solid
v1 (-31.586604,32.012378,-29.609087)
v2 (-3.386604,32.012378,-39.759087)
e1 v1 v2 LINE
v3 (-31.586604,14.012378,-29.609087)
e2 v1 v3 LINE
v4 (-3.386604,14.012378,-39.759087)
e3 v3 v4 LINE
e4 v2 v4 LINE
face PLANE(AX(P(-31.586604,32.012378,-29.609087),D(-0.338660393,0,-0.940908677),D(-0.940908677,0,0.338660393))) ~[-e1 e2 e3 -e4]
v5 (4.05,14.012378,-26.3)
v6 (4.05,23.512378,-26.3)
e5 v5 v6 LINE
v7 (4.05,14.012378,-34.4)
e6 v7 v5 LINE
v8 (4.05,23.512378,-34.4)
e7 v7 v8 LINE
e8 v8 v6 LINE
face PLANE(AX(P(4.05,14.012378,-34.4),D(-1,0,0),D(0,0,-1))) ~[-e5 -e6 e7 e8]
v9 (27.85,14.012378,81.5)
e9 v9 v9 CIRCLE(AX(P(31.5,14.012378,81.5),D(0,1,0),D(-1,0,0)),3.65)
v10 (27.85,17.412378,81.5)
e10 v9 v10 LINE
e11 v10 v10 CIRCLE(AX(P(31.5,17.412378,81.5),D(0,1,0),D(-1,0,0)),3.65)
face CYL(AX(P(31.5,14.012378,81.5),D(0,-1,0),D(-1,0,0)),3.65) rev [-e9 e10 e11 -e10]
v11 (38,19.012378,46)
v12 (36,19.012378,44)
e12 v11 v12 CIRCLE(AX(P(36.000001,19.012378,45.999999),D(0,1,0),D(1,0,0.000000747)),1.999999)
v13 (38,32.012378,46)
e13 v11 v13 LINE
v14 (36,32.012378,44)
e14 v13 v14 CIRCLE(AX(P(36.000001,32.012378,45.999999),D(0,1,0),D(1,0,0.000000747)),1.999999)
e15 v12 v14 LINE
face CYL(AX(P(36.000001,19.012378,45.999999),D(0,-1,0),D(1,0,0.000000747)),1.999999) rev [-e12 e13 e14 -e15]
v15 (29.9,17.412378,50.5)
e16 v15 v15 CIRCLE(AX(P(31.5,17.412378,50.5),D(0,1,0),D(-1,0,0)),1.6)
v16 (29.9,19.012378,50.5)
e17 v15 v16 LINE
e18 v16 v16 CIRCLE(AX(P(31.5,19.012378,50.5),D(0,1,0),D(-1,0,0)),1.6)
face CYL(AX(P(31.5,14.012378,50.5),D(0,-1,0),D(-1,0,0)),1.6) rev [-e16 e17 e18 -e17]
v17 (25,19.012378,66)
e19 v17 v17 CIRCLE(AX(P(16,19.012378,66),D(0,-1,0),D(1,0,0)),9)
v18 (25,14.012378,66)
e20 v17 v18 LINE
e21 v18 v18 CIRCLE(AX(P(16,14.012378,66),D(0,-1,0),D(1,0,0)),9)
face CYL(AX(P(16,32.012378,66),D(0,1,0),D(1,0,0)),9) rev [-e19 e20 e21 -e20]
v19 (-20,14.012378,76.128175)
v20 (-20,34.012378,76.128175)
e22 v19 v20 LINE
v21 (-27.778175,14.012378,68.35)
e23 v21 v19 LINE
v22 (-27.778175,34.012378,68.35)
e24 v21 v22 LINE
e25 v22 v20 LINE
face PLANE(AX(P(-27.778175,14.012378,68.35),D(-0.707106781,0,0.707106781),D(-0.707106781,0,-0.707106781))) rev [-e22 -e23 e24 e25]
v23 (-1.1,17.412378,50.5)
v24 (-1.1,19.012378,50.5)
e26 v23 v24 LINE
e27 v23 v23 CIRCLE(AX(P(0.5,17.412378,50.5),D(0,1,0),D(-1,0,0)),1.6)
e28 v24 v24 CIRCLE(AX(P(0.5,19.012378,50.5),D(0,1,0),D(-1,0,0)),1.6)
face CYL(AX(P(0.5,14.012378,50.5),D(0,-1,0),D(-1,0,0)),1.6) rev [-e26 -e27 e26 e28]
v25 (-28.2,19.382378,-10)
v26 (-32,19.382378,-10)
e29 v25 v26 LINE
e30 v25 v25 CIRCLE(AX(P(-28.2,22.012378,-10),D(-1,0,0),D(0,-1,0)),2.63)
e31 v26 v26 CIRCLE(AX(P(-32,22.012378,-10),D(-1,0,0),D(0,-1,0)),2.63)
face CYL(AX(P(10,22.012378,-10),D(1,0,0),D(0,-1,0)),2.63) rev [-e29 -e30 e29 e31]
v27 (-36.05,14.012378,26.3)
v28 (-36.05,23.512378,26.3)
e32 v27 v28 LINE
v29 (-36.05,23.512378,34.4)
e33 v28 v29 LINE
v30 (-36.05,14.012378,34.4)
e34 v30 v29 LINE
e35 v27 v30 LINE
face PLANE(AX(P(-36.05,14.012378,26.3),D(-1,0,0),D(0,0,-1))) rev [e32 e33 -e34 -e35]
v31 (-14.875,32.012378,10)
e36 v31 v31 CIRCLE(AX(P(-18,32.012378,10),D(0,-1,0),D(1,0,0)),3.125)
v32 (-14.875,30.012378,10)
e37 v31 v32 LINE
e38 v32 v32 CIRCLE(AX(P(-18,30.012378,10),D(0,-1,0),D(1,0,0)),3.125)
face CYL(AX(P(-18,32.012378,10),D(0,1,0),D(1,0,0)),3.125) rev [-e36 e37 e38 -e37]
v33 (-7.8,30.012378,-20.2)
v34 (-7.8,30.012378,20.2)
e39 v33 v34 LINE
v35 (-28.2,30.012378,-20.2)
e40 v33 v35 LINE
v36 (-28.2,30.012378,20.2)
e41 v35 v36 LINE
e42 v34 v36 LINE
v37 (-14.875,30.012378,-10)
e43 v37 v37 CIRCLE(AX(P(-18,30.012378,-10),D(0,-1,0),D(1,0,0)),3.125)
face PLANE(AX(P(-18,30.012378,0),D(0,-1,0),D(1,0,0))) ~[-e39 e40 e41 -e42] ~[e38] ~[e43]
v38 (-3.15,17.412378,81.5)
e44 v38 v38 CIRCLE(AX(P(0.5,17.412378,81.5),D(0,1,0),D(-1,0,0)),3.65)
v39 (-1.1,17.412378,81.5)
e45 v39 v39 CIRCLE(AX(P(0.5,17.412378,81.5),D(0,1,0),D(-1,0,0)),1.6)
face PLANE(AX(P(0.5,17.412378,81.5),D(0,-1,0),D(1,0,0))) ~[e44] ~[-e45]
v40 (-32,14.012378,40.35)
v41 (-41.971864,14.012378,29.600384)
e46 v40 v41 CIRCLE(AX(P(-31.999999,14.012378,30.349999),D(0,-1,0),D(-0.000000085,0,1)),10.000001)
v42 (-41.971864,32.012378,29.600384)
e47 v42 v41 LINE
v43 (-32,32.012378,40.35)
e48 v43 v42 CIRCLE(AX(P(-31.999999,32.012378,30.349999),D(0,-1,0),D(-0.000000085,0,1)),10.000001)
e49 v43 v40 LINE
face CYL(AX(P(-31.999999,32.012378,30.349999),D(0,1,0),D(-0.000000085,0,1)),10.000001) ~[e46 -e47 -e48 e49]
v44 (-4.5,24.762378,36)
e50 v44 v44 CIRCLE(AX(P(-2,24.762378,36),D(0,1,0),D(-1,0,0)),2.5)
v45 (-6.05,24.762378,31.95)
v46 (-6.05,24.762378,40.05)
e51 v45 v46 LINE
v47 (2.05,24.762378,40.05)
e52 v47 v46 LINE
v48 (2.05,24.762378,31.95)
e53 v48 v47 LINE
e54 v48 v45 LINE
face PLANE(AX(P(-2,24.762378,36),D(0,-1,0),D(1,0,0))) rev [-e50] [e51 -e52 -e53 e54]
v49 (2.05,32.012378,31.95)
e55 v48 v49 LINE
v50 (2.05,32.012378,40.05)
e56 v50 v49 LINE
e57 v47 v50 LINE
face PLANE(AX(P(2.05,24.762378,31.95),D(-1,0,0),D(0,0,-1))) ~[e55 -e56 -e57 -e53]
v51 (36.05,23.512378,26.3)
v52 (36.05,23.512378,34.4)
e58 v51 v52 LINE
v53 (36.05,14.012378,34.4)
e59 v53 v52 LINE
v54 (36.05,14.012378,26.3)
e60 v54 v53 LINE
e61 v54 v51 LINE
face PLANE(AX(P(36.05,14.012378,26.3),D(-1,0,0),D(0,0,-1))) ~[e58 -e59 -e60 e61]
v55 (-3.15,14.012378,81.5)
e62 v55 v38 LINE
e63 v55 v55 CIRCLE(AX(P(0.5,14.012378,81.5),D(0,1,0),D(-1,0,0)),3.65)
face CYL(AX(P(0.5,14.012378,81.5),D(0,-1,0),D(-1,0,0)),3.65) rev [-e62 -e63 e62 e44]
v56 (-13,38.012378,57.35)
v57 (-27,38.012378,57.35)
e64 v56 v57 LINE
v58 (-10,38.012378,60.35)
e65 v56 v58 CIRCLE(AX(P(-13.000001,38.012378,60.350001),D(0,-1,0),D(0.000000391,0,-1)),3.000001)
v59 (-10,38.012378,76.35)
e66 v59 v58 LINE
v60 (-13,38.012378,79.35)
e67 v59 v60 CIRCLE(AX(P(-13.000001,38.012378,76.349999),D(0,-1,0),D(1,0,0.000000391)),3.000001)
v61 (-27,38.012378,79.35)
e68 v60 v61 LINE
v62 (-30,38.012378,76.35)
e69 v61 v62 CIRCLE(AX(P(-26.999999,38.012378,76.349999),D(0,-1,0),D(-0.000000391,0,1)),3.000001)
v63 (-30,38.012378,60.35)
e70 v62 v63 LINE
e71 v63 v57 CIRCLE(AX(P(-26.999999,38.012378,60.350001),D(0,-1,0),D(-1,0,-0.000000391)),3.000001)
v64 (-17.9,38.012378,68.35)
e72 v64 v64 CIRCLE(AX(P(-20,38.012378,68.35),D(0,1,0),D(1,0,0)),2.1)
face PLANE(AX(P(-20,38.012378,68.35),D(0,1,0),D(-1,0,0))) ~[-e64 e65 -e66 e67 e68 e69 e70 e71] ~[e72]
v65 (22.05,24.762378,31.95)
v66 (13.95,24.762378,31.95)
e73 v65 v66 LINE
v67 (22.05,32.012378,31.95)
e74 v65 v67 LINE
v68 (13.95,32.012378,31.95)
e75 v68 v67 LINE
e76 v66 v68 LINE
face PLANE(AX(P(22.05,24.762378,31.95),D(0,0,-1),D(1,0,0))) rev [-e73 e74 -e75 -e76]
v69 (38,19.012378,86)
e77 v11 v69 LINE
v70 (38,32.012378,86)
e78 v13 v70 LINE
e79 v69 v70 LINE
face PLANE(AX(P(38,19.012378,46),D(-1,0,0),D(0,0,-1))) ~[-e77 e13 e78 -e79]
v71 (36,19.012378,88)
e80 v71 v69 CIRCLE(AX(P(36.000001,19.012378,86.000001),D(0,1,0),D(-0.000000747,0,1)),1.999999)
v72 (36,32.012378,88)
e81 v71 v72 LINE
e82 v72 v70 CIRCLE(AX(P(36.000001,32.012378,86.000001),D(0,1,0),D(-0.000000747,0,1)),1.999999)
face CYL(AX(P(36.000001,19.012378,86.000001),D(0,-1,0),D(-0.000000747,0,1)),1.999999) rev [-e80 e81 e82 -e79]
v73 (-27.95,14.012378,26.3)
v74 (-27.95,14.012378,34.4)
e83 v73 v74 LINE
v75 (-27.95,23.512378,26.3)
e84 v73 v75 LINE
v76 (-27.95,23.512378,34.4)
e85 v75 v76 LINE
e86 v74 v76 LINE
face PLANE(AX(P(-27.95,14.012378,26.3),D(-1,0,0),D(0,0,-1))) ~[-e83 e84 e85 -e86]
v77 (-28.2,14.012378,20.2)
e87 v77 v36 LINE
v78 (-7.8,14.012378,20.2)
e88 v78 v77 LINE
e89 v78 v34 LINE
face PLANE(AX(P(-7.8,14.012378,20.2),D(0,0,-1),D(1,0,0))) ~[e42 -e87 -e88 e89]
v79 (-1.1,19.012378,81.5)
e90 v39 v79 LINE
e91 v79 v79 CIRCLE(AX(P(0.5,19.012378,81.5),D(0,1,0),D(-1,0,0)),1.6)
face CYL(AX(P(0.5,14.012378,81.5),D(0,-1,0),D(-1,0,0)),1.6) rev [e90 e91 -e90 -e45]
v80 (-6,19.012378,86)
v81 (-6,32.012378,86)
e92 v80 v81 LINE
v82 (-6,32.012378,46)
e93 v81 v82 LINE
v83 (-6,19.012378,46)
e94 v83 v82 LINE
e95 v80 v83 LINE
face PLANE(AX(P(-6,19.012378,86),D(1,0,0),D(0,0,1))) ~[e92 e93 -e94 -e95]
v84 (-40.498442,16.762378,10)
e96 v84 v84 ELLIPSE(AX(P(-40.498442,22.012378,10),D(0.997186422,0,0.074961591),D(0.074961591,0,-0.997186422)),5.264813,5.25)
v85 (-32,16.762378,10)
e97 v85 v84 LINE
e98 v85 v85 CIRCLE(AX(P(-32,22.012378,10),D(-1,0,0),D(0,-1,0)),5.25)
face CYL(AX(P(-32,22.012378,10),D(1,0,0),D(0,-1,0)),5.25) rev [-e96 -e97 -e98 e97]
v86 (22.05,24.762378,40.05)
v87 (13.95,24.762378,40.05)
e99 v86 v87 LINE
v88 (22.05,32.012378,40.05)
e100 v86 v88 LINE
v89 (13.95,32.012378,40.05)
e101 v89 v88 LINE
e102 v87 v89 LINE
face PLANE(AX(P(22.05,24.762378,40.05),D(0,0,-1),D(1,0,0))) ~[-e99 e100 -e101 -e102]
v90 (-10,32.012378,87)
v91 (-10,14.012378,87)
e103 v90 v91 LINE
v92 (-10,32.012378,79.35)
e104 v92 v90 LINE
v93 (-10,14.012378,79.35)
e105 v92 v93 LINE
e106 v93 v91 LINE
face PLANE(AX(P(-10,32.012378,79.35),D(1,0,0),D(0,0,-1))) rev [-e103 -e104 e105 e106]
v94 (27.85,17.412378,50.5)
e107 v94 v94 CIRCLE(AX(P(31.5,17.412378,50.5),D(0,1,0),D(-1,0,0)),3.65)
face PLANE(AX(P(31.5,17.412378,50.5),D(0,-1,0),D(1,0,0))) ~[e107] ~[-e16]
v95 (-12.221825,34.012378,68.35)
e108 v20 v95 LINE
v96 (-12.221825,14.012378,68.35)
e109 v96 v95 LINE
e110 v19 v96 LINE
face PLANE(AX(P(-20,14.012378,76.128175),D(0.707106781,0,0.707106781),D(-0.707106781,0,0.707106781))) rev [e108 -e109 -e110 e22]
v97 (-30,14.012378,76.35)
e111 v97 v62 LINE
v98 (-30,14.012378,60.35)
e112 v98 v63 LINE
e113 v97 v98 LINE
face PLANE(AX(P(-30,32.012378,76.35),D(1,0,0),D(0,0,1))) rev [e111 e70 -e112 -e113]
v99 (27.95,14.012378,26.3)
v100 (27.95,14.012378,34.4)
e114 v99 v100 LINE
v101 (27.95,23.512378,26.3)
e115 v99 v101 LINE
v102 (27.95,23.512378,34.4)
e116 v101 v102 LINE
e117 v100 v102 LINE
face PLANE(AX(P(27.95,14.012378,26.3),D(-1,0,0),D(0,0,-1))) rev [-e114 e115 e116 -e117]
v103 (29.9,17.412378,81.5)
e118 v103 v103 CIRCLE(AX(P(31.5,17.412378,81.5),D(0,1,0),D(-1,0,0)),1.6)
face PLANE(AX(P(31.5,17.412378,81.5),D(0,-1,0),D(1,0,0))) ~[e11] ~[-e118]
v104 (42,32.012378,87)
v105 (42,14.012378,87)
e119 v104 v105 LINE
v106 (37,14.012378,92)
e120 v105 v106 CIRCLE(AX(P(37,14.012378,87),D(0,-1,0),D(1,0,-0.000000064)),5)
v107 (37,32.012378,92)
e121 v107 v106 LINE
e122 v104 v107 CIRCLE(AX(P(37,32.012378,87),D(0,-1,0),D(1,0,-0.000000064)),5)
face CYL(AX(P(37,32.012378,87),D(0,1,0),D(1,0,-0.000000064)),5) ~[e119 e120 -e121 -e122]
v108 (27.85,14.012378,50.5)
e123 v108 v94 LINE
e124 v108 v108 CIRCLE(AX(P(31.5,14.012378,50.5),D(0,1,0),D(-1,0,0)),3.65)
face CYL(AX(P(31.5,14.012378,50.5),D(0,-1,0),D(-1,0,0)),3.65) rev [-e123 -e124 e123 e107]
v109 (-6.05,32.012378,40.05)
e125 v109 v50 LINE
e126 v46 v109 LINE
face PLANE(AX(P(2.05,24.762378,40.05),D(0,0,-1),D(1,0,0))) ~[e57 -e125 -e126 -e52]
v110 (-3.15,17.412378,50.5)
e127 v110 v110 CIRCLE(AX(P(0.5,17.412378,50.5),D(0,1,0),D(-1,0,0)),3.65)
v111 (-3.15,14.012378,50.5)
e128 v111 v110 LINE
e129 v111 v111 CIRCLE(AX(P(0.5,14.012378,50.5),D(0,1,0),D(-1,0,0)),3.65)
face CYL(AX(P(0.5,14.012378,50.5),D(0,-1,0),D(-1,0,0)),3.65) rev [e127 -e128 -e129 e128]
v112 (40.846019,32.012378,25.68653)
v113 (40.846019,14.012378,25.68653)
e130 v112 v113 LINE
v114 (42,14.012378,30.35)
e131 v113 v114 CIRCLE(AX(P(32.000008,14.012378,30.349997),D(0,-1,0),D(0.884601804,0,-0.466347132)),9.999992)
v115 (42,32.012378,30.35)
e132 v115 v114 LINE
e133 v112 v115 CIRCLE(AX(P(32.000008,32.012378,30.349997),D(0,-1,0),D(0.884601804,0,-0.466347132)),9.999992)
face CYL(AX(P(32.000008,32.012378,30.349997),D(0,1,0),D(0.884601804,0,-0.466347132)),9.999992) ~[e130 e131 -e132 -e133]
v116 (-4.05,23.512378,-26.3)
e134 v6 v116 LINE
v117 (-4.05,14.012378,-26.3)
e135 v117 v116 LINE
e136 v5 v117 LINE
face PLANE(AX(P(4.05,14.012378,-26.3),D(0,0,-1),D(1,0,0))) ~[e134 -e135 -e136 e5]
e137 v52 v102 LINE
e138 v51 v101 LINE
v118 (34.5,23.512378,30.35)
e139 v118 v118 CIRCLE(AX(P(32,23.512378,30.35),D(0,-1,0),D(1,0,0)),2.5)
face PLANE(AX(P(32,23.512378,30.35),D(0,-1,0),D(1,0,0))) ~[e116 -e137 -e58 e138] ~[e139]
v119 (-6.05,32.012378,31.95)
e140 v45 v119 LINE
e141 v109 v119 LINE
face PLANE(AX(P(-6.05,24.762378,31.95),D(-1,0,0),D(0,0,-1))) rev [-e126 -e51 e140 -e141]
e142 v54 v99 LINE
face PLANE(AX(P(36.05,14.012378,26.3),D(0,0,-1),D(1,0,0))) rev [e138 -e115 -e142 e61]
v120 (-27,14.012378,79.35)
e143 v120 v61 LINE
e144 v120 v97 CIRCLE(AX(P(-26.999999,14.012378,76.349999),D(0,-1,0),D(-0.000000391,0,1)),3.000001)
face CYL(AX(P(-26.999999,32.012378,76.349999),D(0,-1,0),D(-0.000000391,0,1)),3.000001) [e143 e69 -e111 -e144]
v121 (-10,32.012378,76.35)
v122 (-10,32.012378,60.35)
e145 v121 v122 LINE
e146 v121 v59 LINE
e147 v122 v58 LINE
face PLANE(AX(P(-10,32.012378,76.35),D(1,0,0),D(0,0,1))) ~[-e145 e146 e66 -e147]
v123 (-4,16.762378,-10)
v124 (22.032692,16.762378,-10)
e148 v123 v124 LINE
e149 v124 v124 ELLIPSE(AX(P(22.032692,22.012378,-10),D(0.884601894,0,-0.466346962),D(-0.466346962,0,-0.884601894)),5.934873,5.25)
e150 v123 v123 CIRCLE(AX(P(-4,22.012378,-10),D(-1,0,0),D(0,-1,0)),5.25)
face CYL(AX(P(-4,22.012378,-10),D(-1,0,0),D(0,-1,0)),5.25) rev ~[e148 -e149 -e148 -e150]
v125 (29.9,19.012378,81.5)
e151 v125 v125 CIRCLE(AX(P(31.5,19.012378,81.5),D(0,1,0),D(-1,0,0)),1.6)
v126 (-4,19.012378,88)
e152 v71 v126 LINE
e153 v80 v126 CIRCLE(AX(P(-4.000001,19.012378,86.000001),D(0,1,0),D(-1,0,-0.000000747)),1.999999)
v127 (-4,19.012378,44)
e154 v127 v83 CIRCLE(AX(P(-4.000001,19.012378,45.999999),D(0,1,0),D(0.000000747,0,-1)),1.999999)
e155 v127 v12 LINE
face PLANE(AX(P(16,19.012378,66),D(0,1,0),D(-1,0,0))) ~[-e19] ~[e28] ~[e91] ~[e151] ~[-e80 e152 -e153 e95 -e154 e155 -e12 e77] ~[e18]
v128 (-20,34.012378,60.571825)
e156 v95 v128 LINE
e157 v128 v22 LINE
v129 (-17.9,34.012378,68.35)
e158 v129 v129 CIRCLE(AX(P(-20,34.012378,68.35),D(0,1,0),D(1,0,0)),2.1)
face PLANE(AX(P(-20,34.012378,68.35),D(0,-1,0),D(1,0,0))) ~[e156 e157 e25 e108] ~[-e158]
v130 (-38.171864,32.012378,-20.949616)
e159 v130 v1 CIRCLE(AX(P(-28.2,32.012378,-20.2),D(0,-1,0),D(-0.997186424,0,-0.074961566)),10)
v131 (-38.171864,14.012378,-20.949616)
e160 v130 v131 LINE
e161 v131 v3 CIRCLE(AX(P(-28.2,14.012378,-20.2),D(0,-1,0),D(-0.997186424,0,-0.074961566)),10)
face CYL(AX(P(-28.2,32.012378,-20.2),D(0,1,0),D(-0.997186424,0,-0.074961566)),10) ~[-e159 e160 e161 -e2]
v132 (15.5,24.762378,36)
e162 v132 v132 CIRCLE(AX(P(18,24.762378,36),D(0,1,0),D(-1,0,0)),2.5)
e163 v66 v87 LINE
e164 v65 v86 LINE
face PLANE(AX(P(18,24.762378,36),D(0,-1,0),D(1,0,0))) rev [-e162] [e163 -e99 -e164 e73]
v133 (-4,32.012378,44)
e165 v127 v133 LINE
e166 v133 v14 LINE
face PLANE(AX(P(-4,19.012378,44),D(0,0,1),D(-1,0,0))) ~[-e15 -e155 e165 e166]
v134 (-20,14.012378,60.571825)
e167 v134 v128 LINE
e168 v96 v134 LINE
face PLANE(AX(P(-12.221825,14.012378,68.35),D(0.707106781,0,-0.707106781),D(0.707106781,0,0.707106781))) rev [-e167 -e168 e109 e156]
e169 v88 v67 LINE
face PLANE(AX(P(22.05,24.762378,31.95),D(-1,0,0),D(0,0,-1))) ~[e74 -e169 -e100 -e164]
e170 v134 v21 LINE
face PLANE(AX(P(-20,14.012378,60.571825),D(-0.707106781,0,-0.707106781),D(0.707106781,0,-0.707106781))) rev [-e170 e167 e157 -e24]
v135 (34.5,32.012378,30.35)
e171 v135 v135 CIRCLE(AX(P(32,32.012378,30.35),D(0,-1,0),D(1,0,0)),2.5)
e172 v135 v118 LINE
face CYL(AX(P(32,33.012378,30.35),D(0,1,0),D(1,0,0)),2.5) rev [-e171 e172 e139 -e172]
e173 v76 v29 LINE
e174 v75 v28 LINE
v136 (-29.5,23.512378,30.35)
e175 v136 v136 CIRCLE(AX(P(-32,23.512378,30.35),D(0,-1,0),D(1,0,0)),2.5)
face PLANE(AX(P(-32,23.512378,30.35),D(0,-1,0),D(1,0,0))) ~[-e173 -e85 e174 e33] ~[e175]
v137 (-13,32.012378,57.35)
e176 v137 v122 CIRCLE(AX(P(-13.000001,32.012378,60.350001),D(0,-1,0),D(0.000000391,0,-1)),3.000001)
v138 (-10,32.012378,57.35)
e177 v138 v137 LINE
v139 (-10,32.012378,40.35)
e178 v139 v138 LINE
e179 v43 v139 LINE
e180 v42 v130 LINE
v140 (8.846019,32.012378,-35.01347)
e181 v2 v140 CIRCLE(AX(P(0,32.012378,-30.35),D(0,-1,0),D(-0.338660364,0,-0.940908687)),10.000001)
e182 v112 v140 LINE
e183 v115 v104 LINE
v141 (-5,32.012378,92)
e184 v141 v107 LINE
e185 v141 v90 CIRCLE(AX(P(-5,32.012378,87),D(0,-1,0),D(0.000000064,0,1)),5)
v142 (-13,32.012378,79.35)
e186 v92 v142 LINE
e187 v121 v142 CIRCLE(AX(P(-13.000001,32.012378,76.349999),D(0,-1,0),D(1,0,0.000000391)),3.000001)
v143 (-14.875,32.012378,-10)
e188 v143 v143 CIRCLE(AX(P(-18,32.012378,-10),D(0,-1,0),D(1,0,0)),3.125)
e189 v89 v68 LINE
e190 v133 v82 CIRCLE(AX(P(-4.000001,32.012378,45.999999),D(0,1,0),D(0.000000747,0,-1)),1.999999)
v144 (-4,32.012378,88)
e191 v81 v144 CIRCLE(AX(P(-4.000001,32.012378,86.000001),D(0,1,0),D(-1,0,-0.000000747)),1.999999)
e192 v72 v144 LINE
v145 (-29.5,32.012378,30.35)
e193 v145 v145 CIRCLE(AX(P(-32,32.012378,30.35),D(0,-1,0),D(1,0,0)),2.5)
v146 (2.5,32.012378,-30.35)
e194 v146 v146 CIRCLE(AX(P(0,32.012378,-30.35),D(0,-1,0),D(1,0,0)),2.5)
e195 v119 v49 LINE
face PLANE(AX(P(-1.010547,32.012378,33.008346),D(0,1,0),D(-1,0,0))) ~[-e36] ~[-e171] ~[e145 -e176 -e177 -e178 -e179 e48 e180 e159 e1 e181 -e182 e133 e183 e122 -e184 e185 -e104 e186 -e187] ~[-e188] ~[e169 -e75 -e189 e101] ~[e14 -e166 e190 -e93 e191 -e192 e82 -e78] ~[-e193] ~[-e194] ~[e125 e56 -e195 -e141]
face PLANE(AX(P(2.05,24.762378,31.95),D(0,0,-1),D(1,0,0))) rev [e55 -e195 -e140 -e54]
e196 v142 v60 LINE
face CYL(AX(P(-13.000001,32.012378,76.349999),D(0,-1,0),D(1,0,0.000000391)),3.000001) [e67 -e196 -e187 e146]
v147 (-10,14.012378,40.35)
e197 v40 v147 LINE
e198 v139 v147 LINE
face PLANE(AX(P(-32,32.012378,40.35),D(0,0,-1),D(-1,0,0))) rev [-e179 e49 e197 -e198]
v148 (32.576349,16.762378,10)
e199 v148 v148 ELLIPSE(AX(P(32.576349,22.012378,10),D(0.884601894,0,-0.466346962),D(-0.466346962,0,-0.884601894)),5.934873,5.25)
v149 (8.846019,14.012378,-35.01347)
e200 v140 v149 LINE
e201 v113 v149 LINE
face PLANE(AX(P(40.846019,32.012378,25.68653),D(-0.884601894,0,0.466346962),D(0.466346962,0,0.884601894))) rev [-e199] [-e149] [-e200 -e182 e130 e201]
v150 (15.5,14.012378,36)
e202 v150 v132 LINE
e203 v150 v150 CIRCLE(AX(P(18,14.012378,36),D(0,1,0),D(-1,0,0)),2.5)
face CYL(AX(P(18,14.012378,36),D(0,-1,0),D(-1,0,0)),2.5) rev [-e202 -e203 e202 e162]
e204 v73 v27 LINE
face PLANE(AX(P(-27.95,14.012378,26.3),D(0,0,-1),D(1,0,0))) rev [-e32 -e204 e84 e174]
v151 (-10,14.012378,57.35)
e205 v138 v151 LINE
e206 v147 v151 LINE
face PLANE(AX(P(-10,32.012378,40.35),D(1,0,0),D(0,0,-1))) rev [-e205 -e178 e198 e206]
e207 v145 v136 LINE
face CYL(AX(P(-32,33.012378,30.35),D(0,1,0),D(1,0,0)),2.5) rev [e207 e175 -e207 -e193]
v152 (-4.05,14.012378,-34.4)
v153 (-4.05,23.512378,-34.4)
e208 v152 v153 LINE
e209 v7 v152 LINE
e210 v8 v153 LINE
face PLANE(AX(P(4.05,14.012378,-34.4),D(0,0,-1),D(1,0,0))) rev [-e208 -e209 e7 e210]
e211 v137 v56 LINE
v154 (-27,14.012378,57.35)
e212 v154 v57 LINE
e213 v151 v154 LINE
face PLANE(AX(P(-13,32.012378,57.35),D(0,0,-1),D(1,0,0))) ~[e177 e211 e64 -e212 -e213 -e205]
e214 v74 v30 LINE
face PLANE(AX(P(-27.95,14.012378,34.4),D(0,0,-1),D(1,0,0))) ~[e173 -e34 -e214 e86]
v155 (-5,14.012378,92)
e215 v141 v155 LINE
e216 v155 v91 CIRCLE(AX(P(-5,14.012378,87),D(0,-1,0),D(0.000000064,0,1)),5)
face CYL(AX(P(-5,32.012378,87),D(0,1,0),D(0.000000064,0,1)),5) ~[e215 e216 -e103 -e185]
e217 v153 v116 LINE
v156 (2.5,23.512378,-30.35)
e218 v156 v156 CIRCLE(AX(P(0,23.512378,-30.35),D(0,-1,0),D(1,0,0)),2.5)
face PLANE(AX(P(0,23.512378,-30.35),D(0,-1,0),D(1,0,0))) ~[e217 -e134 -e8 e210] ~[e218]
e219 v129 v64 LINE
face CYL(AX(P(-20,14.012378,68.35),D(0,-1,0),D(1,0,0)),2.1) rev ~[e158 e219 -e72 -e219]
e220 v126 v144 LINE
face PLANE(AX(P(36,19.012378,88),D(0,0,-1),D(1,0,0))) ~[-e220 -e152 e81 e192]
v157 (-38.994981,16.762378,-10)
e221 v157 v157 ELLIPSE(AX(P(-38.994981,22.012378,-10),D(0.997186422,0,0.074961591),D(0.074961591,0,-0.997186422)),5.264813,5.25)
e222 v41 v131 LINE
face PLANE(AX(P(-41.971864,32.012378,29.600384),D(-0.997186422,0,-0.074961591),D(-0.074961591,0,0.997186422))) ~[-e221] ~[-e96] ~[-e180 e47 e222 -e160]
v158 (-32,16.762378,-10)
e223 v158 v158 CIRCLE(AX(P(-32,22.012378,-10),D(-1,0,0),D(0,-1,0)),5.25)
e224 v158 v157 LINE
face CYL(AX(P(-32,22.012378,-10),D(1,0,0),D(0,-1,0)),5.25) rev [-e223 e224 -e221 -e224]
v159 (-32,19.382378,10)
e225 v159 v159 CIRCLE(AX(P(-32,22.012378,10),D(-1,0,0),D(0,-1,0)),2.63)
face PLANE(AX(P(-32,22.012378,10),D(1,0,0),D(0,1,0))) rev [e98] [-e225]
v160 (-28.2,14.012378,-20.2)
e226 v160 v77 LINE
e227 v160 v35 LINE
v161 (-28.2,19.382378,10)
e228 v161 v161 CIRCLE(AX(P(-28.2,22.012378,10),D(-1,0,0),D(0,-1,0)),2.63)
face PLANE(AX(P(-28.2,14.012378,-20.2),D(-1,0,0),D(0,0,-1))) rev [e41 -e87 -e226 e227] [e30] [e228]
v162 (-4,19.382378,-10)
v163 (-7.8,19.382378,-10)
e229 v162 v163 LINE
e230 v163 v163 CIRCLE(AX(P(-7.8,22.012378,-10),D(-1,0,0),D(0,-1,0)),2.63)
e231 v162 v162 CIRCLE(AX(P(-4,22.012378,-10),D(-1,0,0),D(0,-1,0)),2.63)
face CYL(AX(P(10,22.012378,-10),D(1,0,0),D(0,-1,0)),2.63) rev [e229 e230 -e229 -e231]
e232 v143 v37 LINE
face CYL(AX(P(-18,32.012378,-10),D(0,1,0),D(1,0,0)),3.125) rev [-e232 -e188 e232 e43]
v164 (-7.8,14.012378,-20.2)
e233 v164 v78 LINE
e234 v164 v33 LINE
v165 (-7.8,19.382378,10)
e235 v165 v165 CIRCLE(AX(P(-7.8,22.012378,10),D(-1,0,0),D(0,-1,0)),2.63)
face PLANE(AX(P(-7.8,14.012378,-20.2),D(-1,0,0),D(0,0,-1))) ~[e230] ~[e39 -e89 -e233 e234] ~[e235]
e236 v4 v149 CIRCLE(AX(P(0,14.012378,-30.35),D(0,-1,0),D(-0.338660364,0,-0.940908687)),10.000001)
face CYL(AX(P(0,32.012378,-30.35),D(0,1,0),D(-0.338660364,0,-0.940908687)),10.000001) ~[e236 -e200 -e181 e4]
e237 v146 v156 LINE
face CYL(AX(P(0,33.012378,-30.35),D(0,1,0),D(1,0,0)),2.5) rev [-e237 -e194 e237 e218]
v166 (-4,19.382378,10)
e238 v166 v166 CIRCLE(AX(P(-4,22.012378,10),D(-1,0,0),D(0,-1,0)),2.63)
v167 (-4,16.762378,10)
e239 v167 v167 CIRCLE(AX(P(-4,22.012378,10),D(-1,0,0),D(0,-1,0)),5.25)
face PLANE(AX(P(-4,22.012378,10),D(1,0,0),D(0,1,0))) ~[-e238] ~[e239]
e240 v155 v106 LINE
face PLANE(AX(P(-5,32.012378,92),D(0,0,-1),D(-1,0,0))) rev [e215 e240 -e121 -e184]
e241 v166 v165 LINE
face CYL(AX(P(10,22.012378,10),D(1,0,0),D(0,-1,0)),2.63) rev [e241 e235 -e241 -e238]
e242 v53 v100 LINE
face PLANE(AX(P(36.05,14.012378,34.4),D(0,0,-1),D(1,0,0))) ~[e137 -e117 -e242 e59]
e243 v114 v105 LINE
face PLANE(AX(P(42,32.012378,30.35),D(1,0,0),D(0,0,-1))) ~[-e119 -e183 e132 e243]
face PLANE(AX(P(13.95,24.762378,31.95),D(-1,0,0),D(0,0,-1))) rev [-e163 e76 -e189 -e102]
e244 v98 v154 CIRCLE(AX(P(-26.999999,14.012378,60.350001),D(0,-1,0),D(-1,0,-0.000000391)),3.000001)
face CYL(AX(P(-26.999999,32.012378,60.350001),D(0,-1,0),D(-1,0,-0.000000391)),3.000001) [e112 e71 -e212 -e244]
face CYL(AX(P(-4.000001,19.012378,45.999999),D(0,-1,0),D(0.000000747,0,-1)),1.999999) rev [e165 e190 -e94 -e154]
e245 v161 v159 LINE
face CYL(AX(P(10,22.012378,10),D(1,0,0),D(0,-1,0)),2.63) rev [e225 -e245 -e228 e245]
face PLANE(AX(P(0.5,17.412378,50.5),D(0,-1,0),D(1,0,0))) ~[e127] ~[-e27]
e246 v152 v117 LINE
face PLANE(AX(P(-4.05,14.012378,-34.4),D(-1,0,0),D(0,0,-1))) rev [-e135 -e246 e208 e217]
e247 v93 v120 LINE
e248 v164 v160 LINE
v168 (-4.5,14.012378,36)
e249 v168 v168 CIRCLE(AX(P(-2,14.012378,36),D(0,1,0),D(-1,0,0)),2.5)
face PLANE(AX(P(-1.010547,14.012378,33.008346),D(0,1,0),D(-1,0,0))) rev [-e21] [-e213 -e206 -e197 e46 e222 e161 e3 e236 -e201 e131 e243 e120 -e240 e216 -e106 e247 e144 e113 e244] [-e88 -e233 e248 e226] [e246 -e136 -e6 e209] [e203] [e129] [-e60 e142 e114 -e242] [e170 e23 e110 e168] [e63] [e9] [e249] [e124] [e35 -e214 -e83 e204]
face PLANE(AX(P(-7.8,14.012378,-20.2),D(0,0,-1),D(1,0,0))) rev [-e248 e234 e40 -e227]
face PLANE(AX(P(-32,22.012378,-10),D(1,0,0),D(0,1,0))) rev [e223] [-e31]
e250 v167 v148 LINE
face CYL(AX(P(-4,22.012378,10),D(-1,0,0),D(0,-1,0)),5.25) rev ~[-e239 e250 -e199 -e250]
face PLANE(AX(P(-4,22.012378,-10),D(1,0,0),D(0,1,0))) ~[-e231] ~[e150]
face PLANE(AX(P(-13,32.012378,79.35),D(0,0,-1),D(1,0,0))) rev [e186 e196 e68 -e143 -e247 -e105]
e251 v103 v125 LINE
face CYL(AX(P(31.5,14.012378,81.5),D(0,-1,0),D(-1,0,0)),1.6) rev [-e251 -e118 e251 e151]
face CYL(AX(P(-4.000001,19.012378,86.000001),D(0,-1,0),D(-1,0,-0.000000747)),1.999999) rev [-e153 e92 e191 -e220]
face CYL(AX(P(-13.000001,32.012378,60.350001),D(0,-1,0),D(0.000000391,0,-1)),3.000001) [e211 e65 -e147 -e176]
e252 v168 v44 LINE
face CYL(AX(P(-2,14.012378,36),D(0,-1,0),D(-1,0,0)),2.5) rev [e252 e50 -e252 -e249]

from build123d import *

# Parameters (mm, degrees)
SKETCH003_R          = 9
SKETCH003_R_2        = 3.125
PAD_DEPTH            = 18
SKETCH005_R          = 2.5
POCKET_DEPTH         = 19.001
POCKET_DEPTH_BACK    = 0.001
POCKET007_DEPTH      = 13
SKETCH025_R          = 1.6
POCKET008_DEPTH      = 18.001
POCKET008_DEPTH_BACK = 0.001
SKETCH026_R          = 3.65
POCKET009_DEPTH      = 3.4
SKETCH075_R          = 2.5
POCKET038_DEPTH      = 18.001
SKETCH033_W          = 8.1
SKETCH033_H          = 8.1
POCKET011_DEPTH      = 7.251
SKETCH030_W          = 8.1
SKETCH030_H          = 8.1
POCKET010_DEPTH      = 9.5
SKETCH034_W          = 20.4
SKETCH034_H          = 40.4
POCKET012_DEPTH      = 16
SKETCH035_R          = 2.63
POCKET013_DEPTH      = 52.001
POCKET013_DEPTH_BACK = 32.001
SKETCH036_R          = 5.25
POCKET014_DEPTH      = 46.001
SKETCH037_R          = 5.25
POCKET015_DEPTH      = 10.001
PAD032_DEPTH         = 6
POCKET053_DEPTH      = 20
SKETCH106_R          = 2.1
POCKET054_DEPTH      = 0.001
POCKET054_DEPTH_BACK = 24.001


with BuildPart() as xbearingblock:
    # Sketch003 → Pad (new body)
    with BuildSketch(Plane.XZ.offset(-1)):
        with BuildLine():
            ThreePointArc((-32, 40.35), (-39.331308, 37.150876), (-41.971864, 29.600384))
            Line((-41.971864, 29.600384), (-38.171864, -20.949616))
            ThreePointArc((-38.171864, -20.949616), (-36.159823, -26.253199), (-31.586604, -29.609087))
            Line((-31.586604, -29.609087), (-3.386604, -39.759087))
            ThreePointArc((-3.386604, -39.759087), (3.616839, -39.673008), (8.846019, -35.01347))
            Line((40.846019, 25.68653), (8.846019, -35.01347))
            ThreePointArc((40.846019, 25.68653), (41.707219, 27.947937), (42, 30.35))
            Line((42, 30.35), (42, 40.35))
            Line((42, 87), (42, 40.35))
            ThreePointArc((42, 87), (40.535534, 90.535534), (37, 92))
            Line((-5, 92), (37, 92))
            ThreePointArc((-5, 92), (-8.535534, 90.535534), (-10, 87))
            Line((-10, 79.35), (-10, 87))
            Line((-10, 79.35), (-27, 79.35))
            ThreePointArc((-27, 79.35), (-29.12132, 78.47132), (-30, 76.35))
            Line((-30, 76.35), (-30, 60.35))
            ThreePointArc((-30, 60.35), (-29.12132, 58.22868), (-27, 57.35))
            Line((-10, 57.35), (-27, 57.35))
            Line((-10, 40.35), (-10, 57.35))
            Line((-32, 40.35), (-10, 40.35))
        make_face()
        with Locations((16, 66)):
            Circle(SKETCH003_R, mode=Mode.SUBTRACT)
        with Locations((-18, 10)):
            Circle(SKETCH003_R_2, mode=Mode.SUBTRACT)
        with Locations((-18, -10)):
            Circle(SKETCH003_R_2, mode=Mode.SUBTRACT)
    extrude(amount=-PAD_DEPTH)

    # Sketch005 → Pocket (cut, two sides)
    with BuildSketch(Plane.XZ) as pocket_sk:
        with Locations((-32, 30.35)):
            Circle(SKETCH005_R)
        with Locations((32, 30.35)):
            Circle(SKETCH005_R)
        with Locations((0, -30.35)):
            Circle(SKETCH005_R)
    extrude(amount=-POCKET_DEPTH, mode=Mode.SUBTRACT)
    extrude(pocket_sk.sketch, amount=POCKET_DEPTH_BACK, mode=Mode.SUBTRACT)

    # Sketch024 (on Local_CS) → Pocket007 (cut)
    with BuildSketch(Plane(origin=(16, 14, 66), x_dir=(-1, 0, 0), z_dir=(0, 1, 0))):
        with BuildLine():
            Line((-20, 22), (20, 22))
            ThreePointArc((22, 20), (21.414214, 21.414214), (20, 22))
            Line((22, 20), (22, -20))
            ThreePointArc((20, -22), (21.414214, -21.414214), (22, -20))
            Line((20, -22), (-20, -22))
            ThreePointArc((-22, -20), (-21.414214, -21.414214), (-20, -22))
            Line((-22, -20), (-22, 20))
            ThreePointArc((-20, 22), (-21.414214, 21.414214), (-22, 20))
        make_face()
    extrude(amount=-POCKET007_DEPTH, mode=Mode.SUBTRACT)

    # Sketch025 (on Local_CS) → Pocket008 (cut, two sides)
    with BuildSketch(Plane(origin=(16, 19, 66), x_dir=(-1, 0, 0), z_dir=(0, 1, 0))) as pocket008_sk:
        with Locations((-15.5, 15.5)):
            Circle(SKETCH025_R)
        with Locations((15.5, 15.5)):
            Circle(SKETCH025_R)
        with Locations((-15.5, -15.5)):
            Circle(SKETCH025_R)
        with Locations((15.5, -15.5)):
            Circle(SKETCH025_R)
    extrude(amount=-POCKET008_DEPTH, mode=Mode.SUBTRACT)
    extrude(pocket008_sk.sketch, amount=POCKET008_DEPTH_BACK, mode=Mode.SUBTRACT)

    # Sketch026 (on Local_CS) → Pocket009 (cut)
    with BuildSketch(Plane(origin=(16, 19, 66), x_dir=(-1, 0, 0), z_dir=(0, 1, 0))):
        with Locations((-15.5, 15.5)):
            Circle(SKETCH026_R)
        with Locations((15.5, 15.5)):
            Circle(SKETCH026_R)
        with Locations((-15.5, -15.5)):
            Circle(SKETCH026_R)
        with Locations((15.5, -15.5)):
            Circle(SKETCH026_R)
    extrude(amount=-POCKET009_DEPTH, mode=Mode.SUBTRACT)

    # Sketch075 (on Local_CS) → Pocket038 (cut, through all)
    with BuildSketch(Plane(origin=(8, 19, 36), x_dir=(-1, 0, 0), z_dir=(0, 1, 0))):
        with Locations((-10, 0)):
            Circle(SKETCH075_R)
        with Locations((10, 0)):
            Circle(SKETCH075_R)
    extrude(amount=-POCKET038_DEPTH, mode=Mode.SUBTRACT)

    # Sketch033 (on Local_CS) → Pocket011 (cut, through all)
    with BuildSketch(Plane(origin=(8, 8.25, 36), x_dir=(-1, 0, 0), z_dir=(0, 1, 0))):
        with Locations((-10, 0)):
            Rectangle(SKETCH033_W, SKETCH033_H)
        with Locations((10, 0)):
            Rectangle(SKETCH033_W, SKETCH033_H)
    extrude(amount=-POCKET011_DEPTH, mode=Mode.SUBTRACT)

    # Sketch030 (on DatumPlane) → Pocket010 (cut)
    with BuildSketch(Plane(origin=(0, 19, 0), x_dir=(-1, 0, 0), z_dir=(0, 1, 0))):
        with Locations((-32, 30.35)):
            Rectangle(SKETCH030_W, SKETCH030_H)
        with Locations((32, 30.35)):
            Rectangle(SKETCH030_W, SKETCH030_H)
        with Locations((0, -30.35)):
            Rectangle(SKETCH030_W, SKETCH030_H)
    extrude(amount=-POCKET010_DEPTH, mode=Mode.SUBTRACT)

    # Sketch034 (on DatumPlane) → Pocket012 (cut)
    with BuildSketch(Plane(origin=(0, 19, 0), x_dir=(-1, 0, 0), z_dir=(0, 1, 0))):
        with Locations((18, 0)):
            Rectangle(SKETCH034_W, SKETCH034_H)
    extrude(amount=-POCKET012_DEPTH, mode=Mode.SUBTRACT)

    # Sketch035 → Pocket013 (cut, two sides)
    with BuildSketch(Plane(origin=(10, 11, 0), x_dir=(0, 1, 0), z_dir=(1, 0, 0))) as pocket013_sk:
        with Locations((0, 10)):
            Circle(SKETCH035_R)
        with Locations((0, -10)):
            Circle(SKETCH035_R)
    extrude(amount=-POCKET013_DEPTH, mode=Mode.SUBTRACT)
    extrude(pocket013_sk.sketch, amount=POCKET013_DEPTH_BACK, mode=Mode.SUBTRACT)

    # Sketch036 → Pocket014 (cut, through all)
    with BuildSketch(Plane(origin=(-4, 11, 0), x_dir=(0, 1, 0), z_dir=(1, 0, 0))):
        with Locations((0, 10)):
            Circle(SKETCH036_R)
        with Locations((0, -10)):
            Circle(SKETCH036_R)
    extrude(amount=POCKET014_DEPTH, mode=Mode.SUBTRACT)

    # Sketch037 → Pocket015 (cut, through all)
    with BuildSketch(Plane(origin=(-32, 11, 0), x_dir=(0, 1, 0), z_dir=(1, 0, 0))):
        with Locations((0, 10)):
            Circle(SKETCH037_R)
        with Locations((0, -10)):
            Circle(SKETCH037_R)
    extrude(amount=-POCKET015_DEPTH, mode=Mode.SUBTRACT)

    # Sketch104 → Pad032 (join)
    with BuildSketch(Plane.XZ.offset(-1)):
        with BuildLine():
            Line((-13, 79.35), (-27, 79.35))
            ThreePointArc((-27, 79.35), (-29.12132, 78.47132), (-30, 76.35))
            Line((-30, 76.35), (-30, 60.35))
            ThreePointArc((-30, 60.35), (-29.12132, 58.22868), (-27, 57.35))
            Line((-13, 57.35), (-27, 57.35))
            ThreePointArc((-13, 57.35), (-10.87868, 58.22868), (-10, 60.35))
            Line((-10, 76.35), (-10, 60.35))
            ThreePointArc((-10, 76.35), (-10.87868, 78.47132), (-13, 79.35))
        make_face()
    extrude(amount=PAD032_DEPTH)

    # Sketch105 → Pocket053 (cut)
    with BuildSketch(Plane.XZ.offset(-19)):
        Polygon((-20, 76.128175), (-12.221825, 68.35), (-20, 60.571825), (-27.778175, 68.35), align=None)
    extrude(amount=POCKET053_DEPTH, mode=Mode.SUBTRACT)

    # Sketch106 → Pocket054 (cut, two sides)
    with BuildSketch(Plane.XZ.offset(-19)) as pocket054_sk:
        with Locations((-20, 68.35)):
            Circle(SKETCH106_R)
    extrude(amount=-POCKET054_DEPTH, mode=Mode.SUBTRACT)
    extrude(pocket054_sk.sketch, amount=POCKET054_DEPTH_BACK, mode=Mode.SUBTRACT)


with BuildPart() as xbearingblock1:
    # Part__Mirroring002: instance of XBearingBlock
    add(xbearingblock.part.mirror(Plane(origin=(2.8e-05, 16.506189, 25.826885), x_dir=(1, 0, 0), z_dir=(0, 1, 0))))


solid = xbearingblock1.part
